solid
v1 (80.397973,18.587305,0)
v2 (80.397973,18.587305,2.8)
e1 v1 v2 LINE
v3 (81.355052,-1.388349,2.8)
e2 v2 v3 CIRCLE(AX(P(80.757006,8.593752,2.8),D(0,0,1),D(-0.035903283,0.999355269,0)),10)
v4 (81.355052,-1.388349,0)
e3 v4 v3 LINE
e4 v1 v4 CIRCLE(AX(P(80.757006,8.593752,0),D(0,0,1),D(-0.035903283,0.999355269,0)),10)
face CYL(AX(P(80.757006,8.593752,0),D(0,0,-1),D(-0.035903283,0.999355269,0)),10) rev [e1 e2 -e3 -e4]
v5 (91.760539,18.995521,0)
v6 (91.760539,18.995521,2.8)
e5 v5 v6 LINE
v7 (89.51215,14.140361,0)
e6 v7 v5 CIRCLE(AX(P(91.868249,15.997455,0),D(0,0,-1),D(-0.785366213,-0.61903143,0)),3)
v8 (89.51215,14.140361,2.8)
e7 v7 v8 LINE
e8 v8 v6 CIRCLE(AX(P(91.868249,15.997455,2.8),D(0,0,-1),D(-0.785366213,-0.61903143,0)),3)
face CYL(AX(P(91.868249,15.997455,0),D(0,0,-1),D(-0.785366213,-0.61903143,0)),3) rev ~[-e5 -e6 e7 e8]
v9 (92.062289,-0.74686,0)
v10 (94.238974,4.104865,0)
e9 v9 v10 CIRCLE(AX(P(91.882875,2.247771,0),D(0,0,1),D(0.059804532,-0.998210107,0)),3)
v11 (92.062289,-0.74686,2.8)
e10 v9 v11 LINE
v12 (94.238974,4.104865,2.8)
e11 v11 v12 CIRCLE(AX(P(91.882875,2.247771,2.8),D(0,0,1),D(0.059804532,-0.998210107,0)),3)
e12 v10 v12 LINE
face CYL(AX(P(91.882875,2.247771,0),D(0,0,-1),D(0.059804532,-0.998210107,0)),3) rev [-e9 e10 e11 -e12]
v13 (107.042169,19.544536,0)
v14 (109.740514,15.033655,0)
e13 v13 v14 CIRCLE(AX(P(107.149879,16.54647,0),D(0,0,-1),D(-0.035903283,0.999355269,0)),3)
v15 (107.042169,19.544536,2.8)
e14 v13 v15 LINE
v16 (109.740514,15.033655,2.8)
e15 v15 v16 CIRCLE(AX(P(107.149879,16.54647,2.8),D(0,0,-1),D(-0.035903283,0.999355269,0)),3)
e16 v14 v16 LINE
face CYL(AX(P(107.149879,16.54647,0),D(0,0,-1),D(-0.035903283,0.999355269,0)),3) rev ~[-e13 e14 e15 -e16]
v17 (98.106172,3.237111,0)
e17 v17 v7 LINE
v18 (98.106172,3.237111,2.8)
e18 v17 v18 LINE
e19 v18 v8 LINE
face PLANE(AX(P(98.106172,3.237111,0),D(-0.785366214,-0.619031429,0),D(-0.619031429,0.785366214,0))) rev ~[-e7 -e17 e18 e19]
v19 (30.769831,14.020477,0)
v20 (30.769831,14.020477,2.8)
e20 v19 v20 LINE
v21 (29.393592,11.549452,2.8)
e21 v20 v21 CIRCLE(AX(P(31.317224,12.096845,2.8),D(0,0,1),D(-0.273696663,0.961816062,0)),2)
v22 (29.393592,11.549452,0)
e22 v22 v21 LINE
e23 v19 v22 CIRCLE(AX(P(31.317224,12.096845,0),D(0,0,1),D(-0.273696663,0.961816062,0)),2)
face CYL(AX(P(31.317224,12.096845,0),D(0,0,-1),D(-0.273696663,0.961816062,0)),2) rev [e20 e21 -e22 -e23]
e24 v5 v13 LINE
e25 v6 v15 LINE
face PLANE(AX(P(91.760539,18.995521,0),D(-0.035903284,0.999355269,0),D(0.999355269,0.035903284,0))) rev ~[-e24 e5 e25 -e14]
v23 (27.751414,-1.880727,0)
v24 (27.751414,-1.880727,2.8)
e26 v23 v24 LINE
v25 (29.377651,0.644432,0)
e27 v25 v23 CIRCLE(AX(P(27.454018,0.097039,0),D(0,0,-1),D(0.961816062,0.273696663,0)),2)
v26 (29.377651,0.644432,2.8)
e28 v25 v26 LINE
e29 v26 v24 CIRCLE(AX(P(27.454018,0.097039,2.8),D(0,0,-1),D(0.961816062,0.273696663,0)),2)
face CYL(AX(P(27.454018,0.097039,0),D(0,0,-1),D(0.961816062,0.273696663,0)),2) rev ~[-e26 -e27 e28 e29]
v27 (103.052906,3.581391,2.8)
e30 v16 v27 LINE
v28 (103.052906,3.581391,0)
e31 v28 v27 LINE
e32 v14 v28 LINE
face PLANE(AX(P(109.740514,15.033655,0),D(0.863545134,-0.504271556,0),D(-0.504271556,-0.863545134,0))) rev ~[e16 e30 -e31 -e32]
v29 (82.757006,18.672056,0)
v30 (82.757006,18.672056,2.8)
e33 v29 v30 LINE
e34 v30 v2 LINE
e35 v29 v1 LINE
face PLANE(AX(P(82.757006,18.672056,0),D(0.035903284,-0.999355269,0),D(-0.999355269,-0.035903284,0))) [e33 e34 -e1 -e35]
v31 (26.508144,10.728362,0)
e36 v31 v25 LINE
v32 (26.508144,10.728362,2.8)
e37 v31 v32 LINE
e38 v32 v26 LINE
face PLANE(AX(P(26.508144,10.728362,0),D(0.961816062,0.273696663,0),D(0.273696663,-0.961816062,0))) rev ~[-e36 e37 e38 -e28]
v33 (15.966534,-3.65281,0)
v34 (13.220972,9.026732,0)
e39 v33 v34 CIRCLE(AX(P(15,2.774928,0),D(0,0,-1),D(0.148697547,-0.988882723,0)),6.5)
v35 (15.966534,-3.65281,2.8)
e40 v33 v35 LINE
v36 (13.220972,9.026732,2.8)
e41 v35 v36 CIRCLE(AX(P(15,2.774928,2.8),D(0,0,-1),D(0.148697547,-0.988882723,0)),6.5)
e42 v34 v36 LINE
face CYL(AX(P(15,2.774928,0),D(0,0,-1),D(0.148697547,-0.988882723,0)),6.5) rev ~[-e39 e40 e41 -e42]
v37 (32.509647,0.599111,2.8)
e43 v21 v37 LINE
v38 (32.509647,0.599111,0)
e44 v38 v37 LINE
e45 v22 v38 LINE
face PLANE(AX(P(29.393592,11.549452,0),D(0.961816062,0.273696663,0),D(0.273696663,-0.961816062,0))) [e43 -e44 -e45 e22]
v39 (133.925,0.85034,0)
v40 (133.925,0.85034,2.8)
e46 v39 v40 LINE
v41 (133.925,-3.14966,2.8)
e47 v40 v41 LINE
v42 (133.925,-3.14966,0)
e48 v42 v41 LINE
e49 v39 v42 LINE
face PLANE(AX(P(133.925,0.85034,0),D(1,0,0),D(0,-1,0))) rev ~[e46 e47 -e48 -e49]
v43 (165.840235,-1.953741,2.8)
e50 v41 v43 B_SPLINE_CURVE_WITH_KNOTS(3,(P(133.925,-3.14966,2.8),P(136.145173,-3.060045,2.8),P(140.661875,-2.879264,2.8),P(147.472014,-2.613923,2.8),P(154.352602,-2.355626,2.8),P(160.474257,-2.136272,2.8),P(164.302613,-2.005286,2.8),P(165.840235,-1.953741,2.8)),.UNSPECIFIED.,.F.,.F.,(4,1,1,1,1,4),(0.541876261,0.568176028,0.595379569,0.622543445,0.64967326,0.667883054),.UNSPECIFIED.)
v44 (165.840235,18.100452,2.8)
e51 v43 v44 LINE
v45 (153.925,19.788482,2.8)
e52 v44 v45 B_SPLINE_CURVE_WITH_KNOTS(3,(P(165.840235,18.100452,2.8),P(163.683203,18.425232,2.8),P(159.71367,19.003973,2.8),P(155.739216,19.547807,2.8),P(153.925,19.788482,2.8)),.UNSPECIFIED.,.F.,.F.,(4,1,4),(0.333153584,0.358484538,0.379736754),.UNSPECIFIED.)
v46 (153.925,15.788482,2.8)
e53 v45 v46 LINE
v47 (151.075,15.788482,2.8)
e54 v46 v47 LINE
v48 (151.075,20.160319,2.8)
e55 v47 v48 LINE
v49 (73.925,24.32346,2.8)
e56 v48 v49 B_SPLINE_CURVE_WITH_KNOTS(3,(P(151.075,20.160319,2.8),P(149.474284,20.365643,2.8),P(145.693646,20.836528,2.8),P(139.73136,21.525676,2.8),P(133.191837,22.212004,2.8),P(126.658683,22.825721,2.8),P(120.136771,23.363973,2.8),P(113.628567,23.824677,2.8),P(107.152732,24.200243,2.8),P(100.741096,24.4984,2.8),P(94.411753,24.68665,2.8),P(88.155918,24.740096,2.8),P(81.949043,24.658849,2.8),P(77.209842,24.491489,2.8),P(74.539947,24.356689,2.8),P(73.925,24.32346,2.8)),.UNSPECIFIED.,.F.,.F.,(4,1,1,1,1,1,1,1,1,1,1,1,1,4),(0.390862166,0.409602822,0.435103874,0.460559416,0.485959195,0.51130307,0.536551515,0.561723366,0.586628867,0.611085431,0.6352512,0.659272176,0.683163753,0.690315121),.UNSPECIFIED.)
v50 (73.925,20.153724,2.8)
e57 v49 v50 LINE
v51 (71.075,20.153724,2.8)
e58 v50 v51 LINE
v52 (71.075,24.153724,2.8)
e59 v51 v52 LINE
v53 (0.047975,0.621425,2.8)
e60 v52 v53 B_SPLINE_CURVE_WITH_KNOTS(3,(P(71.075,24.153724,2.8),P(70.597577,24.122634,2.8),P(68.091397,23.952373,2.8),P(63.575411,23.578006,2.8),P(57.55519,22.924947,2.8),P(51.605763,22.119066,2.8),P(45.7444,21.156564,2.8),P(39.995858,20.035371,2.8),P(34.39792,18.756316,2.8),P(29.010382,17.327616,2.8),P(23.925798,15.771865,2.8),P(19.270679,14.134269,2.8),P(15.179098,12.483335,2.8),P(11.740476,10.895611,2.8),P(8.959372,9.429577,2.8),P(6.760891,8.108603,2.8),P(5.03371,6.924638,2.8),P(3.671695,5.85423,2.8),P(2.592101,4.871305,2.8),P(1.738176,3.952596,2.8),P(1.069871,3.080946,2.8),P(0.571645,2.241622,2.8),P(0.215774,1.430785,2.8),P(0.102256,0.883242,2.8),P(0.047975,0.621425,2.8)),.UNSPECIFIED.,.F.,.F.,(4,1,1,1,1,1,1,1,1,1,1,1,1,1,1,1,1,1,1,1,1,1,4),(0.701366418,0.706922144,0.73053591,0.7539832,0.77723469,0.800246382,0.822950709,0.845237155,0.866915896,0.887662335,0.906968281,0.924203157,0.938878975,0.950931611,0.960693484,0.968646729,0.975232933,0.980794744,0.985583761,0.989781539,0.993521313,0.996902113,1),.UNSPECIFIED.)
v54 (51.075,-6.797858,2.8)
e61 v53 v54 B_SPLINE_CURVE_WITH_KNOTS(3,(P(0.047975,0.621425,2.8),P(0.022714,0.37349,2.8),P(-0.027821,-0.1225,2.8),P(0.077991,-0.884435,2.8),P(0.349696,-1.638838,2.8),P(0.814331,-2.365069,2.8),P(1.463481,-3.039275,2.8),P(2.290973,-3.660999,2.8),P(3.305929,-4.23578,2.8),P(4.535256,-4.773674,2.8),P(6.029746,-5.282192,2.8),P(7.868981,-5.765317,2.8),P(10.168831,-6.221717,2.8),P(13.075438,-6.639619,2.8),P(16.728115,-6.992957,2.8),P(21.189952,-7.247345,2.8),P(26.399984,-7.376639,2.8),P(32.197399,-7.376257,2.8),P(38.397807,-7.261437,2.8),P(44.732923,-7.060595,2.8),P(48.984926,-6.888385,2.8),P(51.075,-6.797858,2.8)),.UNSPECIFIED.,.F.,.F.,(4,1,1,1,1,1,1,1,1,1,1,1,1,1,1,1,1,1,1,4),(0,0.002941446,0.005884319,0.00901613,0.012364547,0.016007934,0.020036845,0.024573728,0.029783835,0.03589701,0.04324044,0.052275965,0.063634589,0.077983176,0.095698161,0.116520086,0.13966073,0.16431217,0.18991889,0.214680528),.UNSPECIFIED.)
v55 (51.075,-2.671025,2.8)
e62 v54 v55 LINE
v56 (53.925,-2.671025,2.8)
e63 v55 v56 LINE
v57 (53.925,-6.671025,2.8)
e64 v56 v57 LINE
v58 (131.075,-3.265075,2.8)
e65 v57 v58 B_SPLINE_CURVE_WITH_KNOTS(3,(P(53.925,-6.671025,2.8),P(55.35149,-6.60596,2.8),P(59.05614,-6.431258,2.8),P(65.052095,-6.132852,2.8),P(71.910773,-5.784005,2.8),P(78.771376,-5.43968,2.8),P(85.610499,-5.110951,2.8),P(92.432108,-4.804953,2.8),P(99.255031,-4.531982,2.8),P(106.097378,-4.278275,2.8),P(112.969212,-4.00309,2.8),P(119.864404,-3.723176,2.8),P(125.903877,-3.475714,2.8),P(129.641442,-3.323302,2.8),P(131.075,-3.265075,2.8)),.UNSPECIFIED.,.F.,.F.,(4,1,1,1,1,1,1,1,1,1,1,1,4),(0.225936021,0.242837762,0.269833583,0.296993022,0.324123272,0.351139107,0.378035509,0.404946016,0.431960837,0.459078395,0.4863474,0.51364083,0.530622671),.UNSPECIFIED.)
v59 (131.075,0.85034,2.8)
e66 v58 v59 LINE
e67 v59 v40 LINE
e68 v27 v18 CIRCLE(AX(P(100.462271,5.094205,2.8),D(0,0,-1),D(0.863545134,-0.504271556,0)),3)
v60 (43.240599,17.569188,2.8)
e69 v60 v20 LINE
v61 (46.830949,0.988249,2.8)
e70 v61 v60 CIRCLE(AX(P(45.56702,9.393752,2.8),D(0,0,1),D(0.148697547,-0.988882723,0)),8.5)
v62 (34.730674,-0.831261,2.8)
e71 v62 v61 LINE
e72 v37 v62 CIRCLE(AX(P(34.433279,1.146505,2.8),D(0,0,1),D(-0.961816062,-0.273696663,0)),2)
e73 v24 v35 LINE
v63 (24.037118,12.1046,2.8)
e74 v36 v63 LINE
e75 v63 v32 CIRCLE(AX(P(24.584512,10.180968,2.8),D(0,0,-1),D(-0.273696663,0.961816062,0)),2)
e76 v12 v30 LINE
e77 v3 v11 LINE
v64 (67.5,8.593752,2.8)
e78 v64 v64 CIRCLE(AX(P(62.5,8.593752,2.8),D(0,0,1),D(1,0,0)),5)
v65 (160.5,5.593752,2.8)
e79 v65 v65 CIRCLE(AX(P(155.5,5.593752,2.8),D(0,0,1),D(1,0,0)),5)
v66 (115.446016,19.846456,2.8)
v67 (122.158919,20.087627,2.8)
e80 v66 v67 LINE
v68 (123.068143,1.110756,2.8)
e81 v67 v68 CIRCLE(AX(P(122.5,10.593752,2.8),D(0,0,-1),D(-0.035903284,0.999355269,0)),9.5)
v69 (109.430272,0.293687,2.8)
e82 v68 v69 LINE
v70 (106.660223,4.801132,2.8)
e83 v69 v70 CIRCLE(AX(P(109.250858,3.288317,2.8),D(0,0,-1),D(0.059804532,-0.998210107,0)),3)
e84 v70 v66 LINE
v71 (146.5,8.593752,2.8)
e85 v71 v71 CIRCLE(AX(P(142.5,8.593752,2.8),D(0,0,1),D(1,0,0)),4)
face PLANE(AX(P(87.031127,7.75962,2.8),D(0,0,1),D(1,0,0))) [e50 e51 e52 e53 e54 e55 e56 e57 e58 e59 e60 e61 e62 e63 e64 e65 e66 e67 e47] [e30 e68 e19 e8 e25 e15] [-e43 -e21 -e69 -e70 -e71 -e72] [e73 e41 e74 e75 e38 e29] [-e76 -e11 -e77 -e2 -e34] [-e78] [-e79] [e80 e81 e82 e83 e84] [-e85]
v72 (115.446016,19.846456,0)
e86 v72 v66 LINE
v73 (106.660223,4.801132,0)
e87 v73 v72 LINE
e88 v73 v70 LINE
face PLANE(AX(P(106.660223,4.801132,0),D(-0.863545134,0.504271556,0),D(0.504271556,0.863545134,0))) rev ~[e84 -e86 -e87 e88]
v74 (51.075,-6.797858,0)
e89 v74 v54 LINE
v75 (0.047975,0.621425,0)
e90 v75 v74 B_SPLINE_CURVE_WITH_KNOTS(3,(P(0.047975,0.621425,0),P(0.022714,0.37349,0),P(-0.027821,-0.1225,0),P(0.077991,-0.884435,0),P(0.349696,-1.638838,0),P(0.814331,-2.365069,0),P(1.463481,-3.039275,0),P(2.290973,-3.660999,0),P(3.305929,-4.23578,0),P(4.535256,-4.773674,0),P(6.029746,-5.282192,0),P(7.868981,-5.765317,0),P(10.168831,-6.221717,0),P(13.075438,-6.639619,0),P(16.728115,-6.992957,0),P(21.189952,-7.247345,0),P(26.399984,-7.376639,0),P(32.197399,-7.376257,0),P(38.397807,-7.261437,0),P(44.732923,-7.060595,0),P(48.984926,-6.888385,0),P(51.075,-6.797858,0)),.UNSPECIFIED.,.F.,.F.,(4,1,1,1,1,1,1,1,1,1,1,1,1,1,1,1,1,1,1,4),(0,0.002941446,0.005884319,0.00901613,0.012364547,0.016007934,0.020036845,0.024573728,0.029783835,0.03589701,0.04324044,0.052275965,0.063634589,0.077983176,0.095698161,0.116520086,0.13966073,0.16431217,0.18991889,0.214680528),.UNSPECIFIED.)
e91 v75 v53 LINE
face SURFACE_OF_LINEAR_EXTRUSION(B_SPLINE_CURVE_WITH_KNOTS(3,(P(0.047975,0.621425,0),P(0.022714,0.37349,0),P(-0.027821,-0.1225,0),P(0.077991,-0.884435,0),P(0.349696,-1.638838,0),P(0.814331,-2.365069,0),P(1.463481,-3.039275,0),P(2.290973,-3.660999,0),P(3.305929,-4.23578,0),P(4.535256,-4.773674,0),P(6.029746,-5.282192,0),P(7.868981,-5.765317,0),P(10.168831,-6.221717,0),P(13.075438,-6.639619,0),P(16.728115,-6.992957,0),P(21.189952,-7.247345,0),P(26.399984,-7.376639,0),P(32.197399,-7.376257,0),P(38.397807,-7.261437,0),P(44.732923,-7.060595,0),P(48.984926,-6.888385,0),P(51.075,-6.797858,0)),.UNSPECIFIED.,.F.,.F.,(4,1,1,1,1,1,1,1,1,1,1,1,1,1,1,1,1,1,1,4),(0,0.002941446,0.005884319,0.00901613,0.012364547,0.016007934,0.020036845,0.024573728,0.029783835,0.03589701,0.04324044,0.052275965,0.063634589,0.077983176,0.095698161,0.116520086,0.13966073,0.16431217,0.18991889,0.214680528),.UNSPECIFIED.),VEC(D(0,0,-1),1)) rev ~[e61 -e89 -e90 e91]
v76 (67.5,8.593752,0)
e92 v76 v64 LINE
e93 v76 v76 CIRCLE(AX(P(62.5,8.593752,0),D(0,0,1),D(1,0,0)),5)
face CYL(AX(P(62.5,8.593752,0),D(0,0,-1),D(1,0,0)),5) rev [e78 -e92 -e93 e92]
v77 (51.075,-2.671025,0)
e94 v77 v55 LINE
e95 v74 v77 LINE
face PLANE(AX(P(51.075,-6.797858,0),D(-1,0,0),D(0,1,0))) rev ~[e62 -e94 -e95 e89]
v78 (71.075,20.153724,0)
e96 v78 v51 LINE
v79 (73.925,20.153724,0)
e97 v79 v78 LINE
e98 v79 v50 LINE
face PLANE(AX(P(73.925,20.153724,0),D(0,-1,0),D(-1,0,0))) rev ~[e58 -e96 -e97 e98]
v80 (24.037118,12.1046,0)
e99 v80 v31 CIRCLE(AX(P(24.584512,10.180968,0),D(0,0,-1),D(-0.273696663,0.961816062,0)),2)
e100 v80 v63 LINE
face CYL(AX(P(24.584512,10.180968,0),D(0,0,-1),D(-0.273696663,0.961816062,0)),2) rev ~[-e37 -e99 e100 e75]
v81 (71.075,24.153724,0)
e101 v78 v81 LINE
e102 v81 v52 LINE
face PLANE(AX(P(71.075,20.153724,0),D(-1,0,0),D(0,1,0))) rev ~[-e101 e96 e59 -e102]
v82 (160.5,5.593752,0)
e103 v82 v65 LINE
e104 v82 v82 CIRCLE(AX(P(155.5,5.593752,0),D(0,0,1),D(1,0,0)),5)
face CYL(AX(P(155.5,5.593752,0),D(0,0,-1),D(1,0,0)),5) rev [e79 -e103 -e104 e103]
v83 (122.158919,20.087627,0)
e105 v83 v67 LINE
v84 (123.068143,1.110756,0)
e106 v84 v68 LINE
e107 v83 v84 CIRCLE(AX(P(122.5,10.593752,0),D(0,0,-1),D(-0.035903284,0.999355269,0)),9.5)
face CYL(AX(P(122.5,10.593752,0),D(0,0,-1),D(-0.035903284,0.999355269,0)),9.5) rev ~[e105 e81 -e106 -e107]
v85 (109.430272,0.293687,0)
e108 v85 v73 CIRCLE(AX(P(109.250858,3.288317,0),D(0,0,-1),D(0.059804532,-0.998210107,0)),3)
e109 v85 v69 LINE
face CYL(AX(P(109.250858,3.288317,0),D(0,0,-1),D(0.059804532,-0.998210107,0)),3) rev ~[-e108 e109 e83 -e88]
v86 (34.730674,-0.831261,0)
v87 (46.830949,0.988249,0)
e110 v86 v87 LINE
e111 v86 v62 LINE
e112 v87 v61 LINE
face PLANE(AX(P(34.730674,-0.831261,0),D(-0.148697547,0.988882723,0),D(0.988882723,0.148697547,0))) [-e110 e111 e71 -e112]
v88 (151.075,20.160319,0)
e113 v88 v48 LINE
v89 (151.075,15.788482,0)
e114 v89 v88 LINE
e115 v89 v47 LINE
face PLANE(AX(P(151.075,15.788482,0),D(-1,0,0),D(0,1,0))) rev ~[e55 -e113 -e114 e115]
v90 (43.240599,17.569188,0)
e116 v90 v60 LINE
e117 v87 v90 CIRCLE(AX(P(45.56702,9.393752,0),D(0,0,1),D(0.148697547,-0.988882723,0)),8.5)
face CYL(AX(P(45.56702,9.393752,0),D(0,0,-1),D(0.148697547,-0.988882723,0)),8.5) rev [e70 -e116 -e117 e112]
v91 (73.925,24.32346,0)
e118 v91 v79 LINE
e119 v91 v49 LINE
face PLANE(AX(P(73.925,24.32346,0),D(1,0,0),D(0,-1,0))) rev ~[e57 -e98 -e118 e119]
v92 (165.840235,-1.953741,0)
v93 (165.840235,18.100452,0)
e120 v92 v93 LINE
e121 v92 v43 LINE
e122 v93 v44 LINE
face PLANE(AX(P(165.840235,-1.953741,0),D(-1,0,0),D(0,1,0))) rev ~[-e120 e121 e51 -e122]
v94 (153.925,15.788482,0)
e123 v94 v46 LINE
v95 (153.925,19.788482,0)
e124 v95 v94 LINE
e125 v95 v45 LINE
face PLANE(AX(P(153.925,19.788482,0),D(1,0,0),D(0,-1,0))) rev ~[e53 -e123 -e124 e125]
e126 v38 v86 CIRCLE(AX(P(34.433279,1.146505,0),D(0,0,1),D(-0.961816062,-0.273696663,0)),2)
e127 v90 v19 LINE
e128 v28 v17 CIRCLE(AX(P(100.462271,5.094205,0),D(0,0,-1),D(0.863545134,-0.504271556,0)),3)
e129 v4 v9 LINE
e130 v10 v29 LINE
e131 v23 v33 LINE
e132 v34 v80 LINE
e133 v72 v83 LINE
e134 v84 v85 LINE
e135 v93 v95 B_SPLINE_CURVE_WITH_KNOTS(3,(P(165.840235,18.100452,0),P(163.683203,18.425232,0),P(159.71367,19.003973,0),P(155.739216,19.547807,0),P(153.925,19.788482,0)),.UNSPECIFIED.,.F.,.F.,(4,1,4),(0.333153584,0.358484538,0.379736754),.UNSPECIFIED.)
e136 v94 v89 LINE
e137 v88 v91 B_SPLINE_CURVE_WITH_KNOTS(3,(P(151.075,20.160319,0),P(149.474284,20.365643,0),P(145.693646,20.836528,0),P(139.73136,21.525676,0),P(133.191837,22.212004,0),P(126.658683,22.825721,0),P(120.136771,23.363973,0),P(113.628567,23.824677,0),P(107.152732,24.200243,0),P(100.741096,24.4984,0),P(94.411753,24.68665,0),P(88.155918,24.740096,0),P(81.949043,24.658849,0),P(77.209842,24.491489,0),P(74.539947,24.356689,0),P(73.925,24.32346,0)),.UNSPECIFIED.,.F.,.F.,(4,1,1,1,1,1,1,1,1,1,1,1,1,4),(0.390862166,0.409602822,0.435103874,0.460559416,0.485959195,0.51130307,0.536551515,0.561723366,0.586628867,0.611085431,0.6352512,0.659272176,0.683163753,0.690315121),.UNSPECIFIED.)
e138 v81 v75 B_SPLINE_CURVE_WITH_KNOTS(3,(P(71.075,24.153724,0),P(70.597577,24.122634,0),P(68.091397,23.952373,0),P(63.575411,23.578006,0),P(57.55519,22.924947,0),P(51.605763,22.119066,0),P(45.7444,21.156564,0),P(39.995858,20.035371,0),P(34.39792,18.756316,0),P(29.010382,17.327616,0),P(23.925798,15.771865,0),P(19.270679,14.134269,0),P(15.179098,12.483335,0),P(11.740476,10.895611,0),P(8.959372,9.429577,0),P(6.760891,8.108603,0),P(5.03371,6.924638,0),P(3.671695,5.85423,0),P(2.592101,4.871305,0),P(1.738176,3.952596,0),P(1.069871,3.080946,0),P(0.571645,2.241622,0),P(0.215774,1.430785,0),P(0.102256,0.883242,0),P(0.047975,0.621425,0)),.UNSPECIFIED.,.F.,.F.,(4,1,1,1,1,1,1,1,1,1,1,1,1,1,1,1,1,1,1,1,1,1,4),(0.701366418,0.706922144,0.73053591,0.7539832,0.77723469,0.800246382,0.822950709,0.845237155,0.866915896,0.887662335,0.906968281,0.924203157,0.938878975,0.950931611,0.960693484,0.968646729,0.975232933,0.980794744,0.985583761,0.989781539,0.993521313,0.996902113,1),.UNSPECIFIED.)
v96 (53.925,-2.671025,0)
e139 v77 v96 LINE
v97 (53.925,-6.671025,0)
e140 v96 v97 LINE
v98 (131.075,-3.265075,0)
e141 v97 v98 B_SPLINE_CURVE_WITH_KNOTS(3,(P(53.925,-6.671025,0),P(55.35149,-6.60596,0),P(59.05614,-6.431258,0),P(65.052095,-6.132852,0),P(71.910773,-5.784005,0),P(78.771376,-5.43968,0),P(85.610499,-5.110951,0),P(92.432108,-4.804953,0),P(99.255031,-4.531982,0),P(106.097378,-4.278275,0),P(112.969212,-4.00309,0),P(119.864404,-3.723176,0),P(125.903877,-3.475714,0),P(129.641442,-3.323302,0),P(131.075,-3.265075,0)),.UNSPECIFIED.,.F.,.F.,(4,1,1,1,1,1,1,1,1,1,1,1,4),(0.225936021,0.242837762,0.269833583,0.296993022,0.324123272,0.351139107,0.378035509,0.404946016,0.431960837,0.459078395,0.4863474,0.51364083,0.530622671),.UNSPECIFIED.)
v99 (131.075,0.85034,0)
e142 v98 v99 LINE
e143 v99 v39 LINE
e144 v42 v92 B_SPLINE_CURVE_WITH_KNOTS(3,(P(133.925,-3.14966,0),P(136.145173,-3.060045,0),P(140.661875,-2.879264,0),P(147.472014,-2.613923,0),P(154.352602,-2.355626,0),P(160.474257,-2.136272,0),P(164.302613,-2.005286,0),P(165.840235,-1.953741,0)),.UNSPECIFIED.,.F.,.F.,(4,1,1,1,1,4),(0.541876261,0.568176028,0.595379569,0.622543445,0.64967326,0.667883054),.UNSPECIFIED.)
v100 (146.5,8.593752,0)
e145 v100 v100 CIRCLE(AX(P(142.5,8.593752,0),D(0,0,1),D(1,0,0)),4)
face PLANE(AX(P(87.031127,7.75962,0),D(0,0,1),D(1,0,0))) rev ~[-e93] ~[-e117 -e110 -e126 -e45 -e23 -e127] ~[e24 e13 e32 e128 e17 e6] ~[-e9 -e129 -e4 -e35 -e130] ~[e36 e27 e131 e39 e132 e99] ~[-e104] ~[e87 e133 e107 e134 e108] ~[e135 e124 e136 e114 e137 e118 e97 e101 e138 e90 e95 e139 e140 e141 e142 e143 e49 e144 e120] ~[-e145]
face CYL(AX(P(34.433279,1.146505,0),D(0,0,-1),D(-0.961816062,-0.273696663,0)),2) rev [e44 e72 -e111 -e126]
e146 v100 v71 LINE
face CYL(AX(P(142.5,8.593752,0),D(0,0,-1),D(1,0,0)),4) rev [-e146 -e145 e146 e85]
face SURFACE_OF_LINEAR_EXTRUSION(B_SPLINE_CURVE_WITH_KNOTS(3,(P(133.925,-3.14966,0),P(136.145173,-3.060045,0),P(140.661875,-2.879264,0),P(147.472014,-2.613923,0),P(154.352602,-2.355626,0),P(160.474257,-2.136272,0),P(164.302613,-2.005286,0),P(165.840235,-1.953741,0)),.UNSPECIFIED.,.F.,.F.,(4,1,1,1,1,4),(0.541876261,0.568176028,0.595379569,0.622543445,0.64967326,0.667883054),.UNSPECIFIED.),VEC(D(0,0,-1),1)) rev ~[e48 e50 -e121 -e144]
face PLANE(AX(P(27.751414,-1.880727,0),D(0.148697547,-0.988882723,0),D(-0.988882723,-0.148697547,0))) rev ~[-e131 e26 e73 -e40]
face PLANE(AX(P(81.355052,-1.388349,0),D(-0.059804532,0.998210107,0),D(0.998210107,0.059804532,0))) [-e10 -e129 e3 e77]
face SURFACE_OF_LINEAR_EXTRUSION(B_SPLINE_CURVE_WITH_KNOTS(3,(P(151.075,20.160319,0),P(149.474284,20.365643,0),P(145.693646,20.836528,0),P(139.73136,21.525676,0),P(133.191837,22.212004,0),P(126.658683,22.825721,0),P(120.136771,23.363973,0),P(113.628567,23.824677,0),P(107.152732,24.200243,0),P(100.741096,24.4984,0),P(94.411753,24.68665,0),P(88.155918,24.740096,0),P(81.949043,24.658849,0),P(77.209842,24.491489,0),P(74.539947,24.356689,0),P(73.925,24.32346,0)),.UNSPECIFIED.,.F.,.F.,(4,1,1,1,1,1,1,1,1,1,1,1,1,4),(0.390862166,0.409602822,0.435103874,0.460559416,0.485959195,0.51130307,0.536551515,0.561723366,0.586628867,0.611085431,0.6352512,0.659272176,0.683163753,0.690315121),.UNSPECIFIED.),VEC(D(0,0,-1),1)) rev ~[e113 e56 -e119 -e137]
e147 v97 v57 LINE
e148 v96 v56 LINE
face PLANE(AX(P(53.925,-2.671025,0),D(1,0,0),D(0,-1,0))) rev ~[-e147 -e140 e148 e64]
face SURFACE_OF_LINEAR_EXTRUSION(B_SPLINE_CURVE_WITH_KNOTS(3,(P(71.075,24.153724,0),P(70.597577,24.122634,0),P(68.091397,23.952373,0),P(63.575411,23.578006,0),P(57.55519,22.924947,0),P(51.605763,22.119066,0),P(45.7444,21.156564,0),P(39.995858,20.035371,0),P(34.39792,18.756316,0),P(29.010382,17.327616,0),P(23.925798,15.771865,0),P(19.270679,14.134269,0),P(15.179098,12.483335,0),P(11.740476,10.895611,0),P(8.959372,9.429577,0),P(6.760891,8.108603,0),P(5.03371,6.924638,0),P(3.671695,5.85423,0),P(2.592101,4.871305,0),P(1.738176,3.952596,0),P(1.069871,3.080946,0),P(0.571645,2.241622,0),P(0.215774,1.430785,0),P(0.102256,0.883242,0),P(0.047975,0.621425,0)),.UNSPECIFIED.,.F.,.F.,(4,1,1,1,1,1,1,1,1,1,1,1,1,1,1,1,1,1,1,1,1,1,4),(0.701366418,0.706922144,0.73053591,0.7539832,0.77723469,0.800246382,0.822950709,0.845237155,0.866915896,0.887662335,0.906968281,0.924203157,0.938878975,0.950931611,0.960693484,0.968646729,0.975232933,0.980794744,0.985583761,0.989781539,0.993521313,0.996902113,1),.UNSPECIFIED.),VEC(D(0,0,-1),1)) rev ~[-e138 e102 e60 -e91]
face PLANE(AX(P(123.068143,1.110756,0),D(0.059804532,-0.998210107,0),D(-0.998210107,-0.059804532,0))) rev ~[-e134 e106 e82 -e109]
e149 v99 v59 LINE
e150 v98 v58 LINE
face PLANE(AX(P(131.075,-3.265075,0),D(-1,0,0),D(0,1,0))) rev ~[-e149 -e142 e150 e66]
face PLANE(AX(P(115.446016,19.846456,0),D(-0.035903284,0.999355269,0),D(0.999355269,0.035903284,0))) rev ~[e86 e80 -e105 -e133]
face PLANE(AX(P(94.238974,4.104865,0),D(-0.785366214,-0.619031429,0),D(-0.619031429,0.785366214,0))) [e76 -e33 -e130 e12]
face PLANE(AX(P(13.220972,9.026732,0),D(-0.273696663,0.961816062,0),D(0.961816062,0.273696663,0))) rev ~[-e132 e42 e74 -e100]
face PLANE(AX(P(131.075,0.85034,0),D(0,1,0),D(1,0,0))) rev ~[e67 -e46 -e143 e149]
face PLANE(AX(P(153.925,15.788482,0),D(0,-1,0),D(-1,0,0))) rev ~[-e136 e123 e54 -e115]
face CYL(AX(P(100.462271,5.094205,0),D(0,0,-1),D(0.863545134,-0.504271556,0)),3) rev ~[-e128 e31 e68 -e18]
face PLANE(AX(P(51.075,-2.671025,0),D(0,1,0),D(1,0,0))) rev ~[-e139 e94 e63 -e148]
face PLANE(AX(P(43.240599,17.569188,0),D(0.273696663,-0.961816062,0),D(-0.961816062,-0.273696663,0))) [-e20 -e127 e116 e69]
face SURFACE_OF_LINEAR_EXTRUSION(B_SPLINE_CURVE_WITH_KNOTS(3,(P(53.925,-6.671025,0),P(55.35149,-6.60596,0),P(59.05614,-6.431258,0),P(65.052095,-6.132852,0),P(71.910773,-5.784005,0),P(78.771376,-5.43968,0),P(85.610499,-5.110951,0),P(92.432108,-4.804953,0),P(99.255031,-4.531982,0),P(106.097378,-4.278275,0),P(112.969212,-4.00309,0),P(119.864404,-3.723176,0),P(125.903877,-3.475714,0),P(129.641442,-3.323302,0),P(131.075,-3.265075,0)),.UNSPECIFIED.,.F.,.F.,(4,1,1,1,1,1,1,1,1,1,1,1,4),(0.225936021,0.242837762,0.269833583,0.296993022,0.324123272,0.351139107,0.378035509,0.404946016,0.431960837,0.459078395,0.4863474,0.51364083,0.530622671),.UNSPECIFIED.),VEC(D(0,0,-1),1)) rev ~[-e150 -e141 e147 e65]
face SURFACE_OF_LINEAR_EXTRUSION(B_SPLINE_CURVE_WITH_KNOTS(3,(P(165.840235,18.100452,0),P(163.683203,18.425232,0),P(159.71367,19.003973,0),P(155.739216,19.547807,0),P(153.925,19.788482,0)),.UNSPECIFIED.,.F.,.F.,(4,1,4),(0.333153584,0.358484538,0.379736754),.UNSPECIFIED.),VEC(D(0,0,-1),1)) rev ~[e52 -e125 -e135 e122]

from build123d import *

# Parameters (mm, degrees)
SKETCH_1_R      = 5
SKETCH_1_R_2    = 4
EXTRUDE_1_DEPTH = 2.8


with BuildPart() as part:
    # Эскиз1 → Бобышка-Вытянуть1 (new body)
    with BuildSketch(Plane.XY):
        with BuildLine():
            Line((51.075, -6.797857762), (51.075, -2.671024813))
            Line((51.075, -2.671024813), (53.925, -2.671024813))
            Line((53.925, -2.671024813), (53.925, -6.671024813))
            add(Edge.make_bspline(
                [(53.925, -6.671024813), (55.351490294, -6.605959917), (59.05614038, -6.431258156), (65.052094605, -6.132852265), (71.910772709, -5.784005177), (78.771375576, -5.439680454), (85.610498609, -5.110951253), (92.432107589, -4.804953326), (99.25503119, -4.531981655), (106.097378404, -4.278274671), (112.96921168, -4.003089926), (119.864404254, -3.723176184), (125.90387692, -3.475714107), (129.641442278, -3.32330159), (131.075, -3.26507525)],
                knots=[0.225936021, 0.225936021, 0.225936021, 0.225936021, 0.242837762, 0.269833583, 0.296993022, 0.324123272, 0.351139107, 0.378035509, 0.404946016, 0.431960837, 0.459078395, 0.4863474, 0.51364083, 0.530622671, 0.530622671, 0.530622671, 0.530622671], degree=3))
            Line((131.075, -3.26507525), (131.075, 0.850340271))
            Line((131.075, 0.850340271), (133.925, 0.850340271))
            Line((133.925, 0.850340271), (133.925, -3.149659729))
            add(Edge.make_bspline(
                [(133.925, -3.149659729), (136.145172751, -3.06004469), (140.661874906, -2.879263539), (147.472013762, -2.613922958), (154.352602411, -2.355626415), (160.474257398, -2.136272457), (164.302612812, -2.005285527), (165.840234812, -1.953741117)],
                knots=[0.541876261, 0.541876261, 0.541876261, 0.541876261, 0.568176028, 0.595379569, 0.622543445, 0.64967326, 0.667883054, 0.667883054, 0.667883054, 0.667883054], degree=3))
            Line((165.840234812, -1.953741117), (165.840234812, 18.100452406))
            add(Edge.make_bspline(
                [(165.840234812, 18.100452406), (163.683203223, 18.425232173), (159.71367048, 19.003973482), (155.73921581, 19.54780728), (153.925, 19.788481571)],
                knots=[0.333153584, 0.333153584, 0.333153584, 0.333153584, 0.358484538, 0.379736754, 0.379736754, 0.379736754, 0.379736754], degree=3))
            Line((153.925, 19.788481571), (153.925, 15.788481571))
            Line((153.925, 15.788481571), (151.075, 15.788481571))
            Line((151.075, 15.788481571), (151.075, 20.160319166))
            add(Edge.make_bspline(
                [(151.075, 20.160319166), (149.474284365, 20.365643283), (145.693646108, 20.836528447), (139.731359791, 21.525676112), (133.19183673, 22.212004247), (126.658683026, 22.825721427), (120.136770918, 23.363973265), (113.628567141, 23.824677323), (107.152732038, 24.200242593), (100.741095693, 24.498399509), (94.411752715, 24.686649768), (88.155917993, 24.74009565), (81.949043055, 24.658849143), (77.209841741, 24.491488886), (74.539946654, 24.3566888), (73.925, 24.323459936)],
                knots=[0.390862166, 0.390862166, 0.390862166, 0.390862166, 0.409602822, 0.435103874, 0.460559416, 0.485959195, 0.51130307, 0.536551515, 0.561723366, 0.586628867, 0.611085431, 0.6352512, 0.659272176, 0.683163753, 0.690315121, 0.690315121, 0.690315121, 0.690315121], degree=3))
            Line((73.925, 24.323459936), (73.925, 20.153723887))
            Line((73.925, 20.153723887), (71.075, 20.153723887))
            Line((71.075, 20.153723887), (71.075, 24.153723887))
            add(Edge.make_bspline(
                [(71.075, 24.153723887), (70.597576883, 24.122634423), (68.091396965, 23.952373351), (63.575410501, 23.578006361), (57.55518955, 22.924946658), (51.605762688, 22.119065522), (45.744400311, 21.156564432), (39.995857594, 20.035371389), (34.397919842, 18.756316234), (29.010382103, 17.327615608), (23.925798408, 15.771864921), (19.270678839, 14.134269434), (15.179098391, 12.483335438), (11.74047579, 10.895610995), (8.959371868, 9.429577365), (6.76089118, 8.108603199), (5.033709747, 6.924638055), (3.671694933, 5.854229664), (2.592101123, 4.871305369), (1.738175668, 3.952595743), (1.069870829, 3.080946373), (0.57164541, 2.241622102), (0.215773898, 1.430785397), (0.102255581, 0.883241694), (0.047974999, 0.621425)],
                knots=[0.701366418, 0.701366418, 0.701366418, 0.701366418, 0.706922144, 0.73053591, 0.7539832, 0.77723469, 0.800246382, 0.822950709, 0.845237155, 0.866915896, 0.887662335, 0.906968281, 0.924203157, 0.938878975, 0.950931611, 0.960693484, 0.968646729, 0.975232933, 0.980794744, 0.985583761, 0.989781539, 0.993521313, 0.996902113, 1, 1, 1, 1], degree=3))
            add(Edge.make_bspline(
                [(0.047974999, 0.621425), (0.02271382, 0.373490086), (-0.02782079, -0.122499975), (0.077991212, -0.88443459), (0.34969565, -1.63883807), (0.814331135, -2.365068924), (1.46348078, -3.039275245), (2.290973016, -3.66099947), (3.30592875, -4.235779621), (4.535255619, -4.773674144), (6.029745688, -5.282192165), (7.868981215, -5.765316676), (10.168831391, -6.221716593), (13.075438188, -6.639618731), (16.728115362, -6.992956738), (21.189952095, -7.247345145), (26.399984415, -7.376638849), (32.197398563, -7.376256913), (38.397806758, -7.26143658), (44.732922785, -7.060594684), (48.984926453, -6.888384617), (51.075, -6.797857762)],
                knots=[0, 0, 0, 0, 0.002941446, 0.005884319, 0.00901613, 0.012364547, 0.016007934, 0.020036845, 0.024573728, 0.029783835, 0.03589701, 0.04324044, 0.052275965, 0.063634589, 0.077983176, 0.095698161, 0.116520086, 0.13966073, 0.16431217, 0.18991889, 0.214680528, 0.214680528, 0.214680528, 0.214680528], degree=3))
        make_face()
        with Locations((62.5, 8.59375181)):
            Circle(SKETCH_1_R, mode=Mode.SUBTRACT)
        with Locations((142.5, 8.59375181)):
            Circle(SKETCH_1_R_2, mode=Mode.SUBTRACT)
        with Locations((155.5, 5.59375181)):
            Circle(SKETCH_1_R, mode=Mode.SUBTRACT)
        with BuildLine():
            Line((43.240598635, 17.569188334), (30.769830614, 14.020476962))
            ThreePointArc((30.769830614, 14.020476962), (29.569945088, 13.069992625), (29.393591817, 11.549451512))
            Line((29.393591817, 11.549451512), (32.509646584, 0.599111496))
            ThreePointArc((32.509646584, 0.599111496), (33.350387753, -0.534966909), (34.730673801, -0.831260624))
            Line((34.730673801, -0.831260624), (46.83094942, 0.988248665))
            ThreePointArc((46.83094942, 0.988248665), (53.874493573, 11.192609045), (43.240598635, 17.569188334))
        make_face(mode=Mode.SUBTRACT)
        with BuildLine():
            Line((91.760538944, 18.995521102), (107.042168691, 19.544535755))
            ThreePointArc((107.042168691, 19.544535755), (109.724415488, 18.086521736), (109.740513943, 15.033655279))
            Line((109.740513943, 15.033655279), (103.052906026, 3.581390706))
            ThreePointArc((103.052906026, 3.581390706), (100.670558856, 2.101444773), (98.106171984, 3.237111085))
            Line((98.106171984, 3.237111085), (89.512150154, 14.140361006))
            ThreePointArc((89.512150154, 14.140361006), (89.14598265, 17.258116644), (91.760538944, 18.995521102))
        make_face(mode=Mode.SUBTRACT)
        with BuildLine():
            Line((81.355051643, -1.388349261), (92.062288682, -0.74685976))
            ThreePointArc((92.062288682, -0.74685976), (94.620029356, 1.019769542), (94.238973726, 4.104864849))
            Line((94.238973726, 4.104864849), (82.75700632, 18.672056169))
            Line((82.75700632, 18.672056169), (80.397973485, 18.587304502))
            ThreePointArc((80.397973485, 18.587304502), (70.768464506, 8.115178476), (81.355051643, -1.388349261))
        make_face(mode=Mode.SUBTRACT)
        with BuildLine():
            Line((106.660222673, 4.801131795), (115.446016039, 19.846456126))
            Line((115.446016039, 19.846456126), (122.158918806, 20.087626868))
            ThreePointArc((122.158918806, 20.087626868), (131.989114723, 11.048396476), (123.068143057, 1.110755792))
            Line((123.068143057, 1.110755792), (109.430271671, 0.293686806))
            ThreePointArc((109.430271671, 0.293686806), (106.694931094, 1.71757295), (106.660222673, 4.801131795))
        make_face(mode=Mode.SUBTRACT)
        with BuildLine():
            Line((26.508143632, 10.728361523), (29.377650553, 0.644432062))
            ThreePointArc((29.377650553, 0.644432062), (29.13549016, -0.985852219), (27.751413523, -1.880726711))
            Line((27.751413523, -1.880726711), (15.966534054, -3.652810119))
            ThreePointArc((15.966534054, -3.652810119), (8.647226299, 1.39933087), (13.220971689, 9.02673198))
            Line((13.220971689, 9.02673198), (24.037118182, 12.104600319))
            ThreePointArc((24.037118182, 12.104600319), (25.557659294, 11.928247048), (26.508143632, 10.728361523))
        make_face(mode=Mode.SUBTRACT)
    extrude(amount=EXTRUDE_1_DEPTH)


solid = part.part
